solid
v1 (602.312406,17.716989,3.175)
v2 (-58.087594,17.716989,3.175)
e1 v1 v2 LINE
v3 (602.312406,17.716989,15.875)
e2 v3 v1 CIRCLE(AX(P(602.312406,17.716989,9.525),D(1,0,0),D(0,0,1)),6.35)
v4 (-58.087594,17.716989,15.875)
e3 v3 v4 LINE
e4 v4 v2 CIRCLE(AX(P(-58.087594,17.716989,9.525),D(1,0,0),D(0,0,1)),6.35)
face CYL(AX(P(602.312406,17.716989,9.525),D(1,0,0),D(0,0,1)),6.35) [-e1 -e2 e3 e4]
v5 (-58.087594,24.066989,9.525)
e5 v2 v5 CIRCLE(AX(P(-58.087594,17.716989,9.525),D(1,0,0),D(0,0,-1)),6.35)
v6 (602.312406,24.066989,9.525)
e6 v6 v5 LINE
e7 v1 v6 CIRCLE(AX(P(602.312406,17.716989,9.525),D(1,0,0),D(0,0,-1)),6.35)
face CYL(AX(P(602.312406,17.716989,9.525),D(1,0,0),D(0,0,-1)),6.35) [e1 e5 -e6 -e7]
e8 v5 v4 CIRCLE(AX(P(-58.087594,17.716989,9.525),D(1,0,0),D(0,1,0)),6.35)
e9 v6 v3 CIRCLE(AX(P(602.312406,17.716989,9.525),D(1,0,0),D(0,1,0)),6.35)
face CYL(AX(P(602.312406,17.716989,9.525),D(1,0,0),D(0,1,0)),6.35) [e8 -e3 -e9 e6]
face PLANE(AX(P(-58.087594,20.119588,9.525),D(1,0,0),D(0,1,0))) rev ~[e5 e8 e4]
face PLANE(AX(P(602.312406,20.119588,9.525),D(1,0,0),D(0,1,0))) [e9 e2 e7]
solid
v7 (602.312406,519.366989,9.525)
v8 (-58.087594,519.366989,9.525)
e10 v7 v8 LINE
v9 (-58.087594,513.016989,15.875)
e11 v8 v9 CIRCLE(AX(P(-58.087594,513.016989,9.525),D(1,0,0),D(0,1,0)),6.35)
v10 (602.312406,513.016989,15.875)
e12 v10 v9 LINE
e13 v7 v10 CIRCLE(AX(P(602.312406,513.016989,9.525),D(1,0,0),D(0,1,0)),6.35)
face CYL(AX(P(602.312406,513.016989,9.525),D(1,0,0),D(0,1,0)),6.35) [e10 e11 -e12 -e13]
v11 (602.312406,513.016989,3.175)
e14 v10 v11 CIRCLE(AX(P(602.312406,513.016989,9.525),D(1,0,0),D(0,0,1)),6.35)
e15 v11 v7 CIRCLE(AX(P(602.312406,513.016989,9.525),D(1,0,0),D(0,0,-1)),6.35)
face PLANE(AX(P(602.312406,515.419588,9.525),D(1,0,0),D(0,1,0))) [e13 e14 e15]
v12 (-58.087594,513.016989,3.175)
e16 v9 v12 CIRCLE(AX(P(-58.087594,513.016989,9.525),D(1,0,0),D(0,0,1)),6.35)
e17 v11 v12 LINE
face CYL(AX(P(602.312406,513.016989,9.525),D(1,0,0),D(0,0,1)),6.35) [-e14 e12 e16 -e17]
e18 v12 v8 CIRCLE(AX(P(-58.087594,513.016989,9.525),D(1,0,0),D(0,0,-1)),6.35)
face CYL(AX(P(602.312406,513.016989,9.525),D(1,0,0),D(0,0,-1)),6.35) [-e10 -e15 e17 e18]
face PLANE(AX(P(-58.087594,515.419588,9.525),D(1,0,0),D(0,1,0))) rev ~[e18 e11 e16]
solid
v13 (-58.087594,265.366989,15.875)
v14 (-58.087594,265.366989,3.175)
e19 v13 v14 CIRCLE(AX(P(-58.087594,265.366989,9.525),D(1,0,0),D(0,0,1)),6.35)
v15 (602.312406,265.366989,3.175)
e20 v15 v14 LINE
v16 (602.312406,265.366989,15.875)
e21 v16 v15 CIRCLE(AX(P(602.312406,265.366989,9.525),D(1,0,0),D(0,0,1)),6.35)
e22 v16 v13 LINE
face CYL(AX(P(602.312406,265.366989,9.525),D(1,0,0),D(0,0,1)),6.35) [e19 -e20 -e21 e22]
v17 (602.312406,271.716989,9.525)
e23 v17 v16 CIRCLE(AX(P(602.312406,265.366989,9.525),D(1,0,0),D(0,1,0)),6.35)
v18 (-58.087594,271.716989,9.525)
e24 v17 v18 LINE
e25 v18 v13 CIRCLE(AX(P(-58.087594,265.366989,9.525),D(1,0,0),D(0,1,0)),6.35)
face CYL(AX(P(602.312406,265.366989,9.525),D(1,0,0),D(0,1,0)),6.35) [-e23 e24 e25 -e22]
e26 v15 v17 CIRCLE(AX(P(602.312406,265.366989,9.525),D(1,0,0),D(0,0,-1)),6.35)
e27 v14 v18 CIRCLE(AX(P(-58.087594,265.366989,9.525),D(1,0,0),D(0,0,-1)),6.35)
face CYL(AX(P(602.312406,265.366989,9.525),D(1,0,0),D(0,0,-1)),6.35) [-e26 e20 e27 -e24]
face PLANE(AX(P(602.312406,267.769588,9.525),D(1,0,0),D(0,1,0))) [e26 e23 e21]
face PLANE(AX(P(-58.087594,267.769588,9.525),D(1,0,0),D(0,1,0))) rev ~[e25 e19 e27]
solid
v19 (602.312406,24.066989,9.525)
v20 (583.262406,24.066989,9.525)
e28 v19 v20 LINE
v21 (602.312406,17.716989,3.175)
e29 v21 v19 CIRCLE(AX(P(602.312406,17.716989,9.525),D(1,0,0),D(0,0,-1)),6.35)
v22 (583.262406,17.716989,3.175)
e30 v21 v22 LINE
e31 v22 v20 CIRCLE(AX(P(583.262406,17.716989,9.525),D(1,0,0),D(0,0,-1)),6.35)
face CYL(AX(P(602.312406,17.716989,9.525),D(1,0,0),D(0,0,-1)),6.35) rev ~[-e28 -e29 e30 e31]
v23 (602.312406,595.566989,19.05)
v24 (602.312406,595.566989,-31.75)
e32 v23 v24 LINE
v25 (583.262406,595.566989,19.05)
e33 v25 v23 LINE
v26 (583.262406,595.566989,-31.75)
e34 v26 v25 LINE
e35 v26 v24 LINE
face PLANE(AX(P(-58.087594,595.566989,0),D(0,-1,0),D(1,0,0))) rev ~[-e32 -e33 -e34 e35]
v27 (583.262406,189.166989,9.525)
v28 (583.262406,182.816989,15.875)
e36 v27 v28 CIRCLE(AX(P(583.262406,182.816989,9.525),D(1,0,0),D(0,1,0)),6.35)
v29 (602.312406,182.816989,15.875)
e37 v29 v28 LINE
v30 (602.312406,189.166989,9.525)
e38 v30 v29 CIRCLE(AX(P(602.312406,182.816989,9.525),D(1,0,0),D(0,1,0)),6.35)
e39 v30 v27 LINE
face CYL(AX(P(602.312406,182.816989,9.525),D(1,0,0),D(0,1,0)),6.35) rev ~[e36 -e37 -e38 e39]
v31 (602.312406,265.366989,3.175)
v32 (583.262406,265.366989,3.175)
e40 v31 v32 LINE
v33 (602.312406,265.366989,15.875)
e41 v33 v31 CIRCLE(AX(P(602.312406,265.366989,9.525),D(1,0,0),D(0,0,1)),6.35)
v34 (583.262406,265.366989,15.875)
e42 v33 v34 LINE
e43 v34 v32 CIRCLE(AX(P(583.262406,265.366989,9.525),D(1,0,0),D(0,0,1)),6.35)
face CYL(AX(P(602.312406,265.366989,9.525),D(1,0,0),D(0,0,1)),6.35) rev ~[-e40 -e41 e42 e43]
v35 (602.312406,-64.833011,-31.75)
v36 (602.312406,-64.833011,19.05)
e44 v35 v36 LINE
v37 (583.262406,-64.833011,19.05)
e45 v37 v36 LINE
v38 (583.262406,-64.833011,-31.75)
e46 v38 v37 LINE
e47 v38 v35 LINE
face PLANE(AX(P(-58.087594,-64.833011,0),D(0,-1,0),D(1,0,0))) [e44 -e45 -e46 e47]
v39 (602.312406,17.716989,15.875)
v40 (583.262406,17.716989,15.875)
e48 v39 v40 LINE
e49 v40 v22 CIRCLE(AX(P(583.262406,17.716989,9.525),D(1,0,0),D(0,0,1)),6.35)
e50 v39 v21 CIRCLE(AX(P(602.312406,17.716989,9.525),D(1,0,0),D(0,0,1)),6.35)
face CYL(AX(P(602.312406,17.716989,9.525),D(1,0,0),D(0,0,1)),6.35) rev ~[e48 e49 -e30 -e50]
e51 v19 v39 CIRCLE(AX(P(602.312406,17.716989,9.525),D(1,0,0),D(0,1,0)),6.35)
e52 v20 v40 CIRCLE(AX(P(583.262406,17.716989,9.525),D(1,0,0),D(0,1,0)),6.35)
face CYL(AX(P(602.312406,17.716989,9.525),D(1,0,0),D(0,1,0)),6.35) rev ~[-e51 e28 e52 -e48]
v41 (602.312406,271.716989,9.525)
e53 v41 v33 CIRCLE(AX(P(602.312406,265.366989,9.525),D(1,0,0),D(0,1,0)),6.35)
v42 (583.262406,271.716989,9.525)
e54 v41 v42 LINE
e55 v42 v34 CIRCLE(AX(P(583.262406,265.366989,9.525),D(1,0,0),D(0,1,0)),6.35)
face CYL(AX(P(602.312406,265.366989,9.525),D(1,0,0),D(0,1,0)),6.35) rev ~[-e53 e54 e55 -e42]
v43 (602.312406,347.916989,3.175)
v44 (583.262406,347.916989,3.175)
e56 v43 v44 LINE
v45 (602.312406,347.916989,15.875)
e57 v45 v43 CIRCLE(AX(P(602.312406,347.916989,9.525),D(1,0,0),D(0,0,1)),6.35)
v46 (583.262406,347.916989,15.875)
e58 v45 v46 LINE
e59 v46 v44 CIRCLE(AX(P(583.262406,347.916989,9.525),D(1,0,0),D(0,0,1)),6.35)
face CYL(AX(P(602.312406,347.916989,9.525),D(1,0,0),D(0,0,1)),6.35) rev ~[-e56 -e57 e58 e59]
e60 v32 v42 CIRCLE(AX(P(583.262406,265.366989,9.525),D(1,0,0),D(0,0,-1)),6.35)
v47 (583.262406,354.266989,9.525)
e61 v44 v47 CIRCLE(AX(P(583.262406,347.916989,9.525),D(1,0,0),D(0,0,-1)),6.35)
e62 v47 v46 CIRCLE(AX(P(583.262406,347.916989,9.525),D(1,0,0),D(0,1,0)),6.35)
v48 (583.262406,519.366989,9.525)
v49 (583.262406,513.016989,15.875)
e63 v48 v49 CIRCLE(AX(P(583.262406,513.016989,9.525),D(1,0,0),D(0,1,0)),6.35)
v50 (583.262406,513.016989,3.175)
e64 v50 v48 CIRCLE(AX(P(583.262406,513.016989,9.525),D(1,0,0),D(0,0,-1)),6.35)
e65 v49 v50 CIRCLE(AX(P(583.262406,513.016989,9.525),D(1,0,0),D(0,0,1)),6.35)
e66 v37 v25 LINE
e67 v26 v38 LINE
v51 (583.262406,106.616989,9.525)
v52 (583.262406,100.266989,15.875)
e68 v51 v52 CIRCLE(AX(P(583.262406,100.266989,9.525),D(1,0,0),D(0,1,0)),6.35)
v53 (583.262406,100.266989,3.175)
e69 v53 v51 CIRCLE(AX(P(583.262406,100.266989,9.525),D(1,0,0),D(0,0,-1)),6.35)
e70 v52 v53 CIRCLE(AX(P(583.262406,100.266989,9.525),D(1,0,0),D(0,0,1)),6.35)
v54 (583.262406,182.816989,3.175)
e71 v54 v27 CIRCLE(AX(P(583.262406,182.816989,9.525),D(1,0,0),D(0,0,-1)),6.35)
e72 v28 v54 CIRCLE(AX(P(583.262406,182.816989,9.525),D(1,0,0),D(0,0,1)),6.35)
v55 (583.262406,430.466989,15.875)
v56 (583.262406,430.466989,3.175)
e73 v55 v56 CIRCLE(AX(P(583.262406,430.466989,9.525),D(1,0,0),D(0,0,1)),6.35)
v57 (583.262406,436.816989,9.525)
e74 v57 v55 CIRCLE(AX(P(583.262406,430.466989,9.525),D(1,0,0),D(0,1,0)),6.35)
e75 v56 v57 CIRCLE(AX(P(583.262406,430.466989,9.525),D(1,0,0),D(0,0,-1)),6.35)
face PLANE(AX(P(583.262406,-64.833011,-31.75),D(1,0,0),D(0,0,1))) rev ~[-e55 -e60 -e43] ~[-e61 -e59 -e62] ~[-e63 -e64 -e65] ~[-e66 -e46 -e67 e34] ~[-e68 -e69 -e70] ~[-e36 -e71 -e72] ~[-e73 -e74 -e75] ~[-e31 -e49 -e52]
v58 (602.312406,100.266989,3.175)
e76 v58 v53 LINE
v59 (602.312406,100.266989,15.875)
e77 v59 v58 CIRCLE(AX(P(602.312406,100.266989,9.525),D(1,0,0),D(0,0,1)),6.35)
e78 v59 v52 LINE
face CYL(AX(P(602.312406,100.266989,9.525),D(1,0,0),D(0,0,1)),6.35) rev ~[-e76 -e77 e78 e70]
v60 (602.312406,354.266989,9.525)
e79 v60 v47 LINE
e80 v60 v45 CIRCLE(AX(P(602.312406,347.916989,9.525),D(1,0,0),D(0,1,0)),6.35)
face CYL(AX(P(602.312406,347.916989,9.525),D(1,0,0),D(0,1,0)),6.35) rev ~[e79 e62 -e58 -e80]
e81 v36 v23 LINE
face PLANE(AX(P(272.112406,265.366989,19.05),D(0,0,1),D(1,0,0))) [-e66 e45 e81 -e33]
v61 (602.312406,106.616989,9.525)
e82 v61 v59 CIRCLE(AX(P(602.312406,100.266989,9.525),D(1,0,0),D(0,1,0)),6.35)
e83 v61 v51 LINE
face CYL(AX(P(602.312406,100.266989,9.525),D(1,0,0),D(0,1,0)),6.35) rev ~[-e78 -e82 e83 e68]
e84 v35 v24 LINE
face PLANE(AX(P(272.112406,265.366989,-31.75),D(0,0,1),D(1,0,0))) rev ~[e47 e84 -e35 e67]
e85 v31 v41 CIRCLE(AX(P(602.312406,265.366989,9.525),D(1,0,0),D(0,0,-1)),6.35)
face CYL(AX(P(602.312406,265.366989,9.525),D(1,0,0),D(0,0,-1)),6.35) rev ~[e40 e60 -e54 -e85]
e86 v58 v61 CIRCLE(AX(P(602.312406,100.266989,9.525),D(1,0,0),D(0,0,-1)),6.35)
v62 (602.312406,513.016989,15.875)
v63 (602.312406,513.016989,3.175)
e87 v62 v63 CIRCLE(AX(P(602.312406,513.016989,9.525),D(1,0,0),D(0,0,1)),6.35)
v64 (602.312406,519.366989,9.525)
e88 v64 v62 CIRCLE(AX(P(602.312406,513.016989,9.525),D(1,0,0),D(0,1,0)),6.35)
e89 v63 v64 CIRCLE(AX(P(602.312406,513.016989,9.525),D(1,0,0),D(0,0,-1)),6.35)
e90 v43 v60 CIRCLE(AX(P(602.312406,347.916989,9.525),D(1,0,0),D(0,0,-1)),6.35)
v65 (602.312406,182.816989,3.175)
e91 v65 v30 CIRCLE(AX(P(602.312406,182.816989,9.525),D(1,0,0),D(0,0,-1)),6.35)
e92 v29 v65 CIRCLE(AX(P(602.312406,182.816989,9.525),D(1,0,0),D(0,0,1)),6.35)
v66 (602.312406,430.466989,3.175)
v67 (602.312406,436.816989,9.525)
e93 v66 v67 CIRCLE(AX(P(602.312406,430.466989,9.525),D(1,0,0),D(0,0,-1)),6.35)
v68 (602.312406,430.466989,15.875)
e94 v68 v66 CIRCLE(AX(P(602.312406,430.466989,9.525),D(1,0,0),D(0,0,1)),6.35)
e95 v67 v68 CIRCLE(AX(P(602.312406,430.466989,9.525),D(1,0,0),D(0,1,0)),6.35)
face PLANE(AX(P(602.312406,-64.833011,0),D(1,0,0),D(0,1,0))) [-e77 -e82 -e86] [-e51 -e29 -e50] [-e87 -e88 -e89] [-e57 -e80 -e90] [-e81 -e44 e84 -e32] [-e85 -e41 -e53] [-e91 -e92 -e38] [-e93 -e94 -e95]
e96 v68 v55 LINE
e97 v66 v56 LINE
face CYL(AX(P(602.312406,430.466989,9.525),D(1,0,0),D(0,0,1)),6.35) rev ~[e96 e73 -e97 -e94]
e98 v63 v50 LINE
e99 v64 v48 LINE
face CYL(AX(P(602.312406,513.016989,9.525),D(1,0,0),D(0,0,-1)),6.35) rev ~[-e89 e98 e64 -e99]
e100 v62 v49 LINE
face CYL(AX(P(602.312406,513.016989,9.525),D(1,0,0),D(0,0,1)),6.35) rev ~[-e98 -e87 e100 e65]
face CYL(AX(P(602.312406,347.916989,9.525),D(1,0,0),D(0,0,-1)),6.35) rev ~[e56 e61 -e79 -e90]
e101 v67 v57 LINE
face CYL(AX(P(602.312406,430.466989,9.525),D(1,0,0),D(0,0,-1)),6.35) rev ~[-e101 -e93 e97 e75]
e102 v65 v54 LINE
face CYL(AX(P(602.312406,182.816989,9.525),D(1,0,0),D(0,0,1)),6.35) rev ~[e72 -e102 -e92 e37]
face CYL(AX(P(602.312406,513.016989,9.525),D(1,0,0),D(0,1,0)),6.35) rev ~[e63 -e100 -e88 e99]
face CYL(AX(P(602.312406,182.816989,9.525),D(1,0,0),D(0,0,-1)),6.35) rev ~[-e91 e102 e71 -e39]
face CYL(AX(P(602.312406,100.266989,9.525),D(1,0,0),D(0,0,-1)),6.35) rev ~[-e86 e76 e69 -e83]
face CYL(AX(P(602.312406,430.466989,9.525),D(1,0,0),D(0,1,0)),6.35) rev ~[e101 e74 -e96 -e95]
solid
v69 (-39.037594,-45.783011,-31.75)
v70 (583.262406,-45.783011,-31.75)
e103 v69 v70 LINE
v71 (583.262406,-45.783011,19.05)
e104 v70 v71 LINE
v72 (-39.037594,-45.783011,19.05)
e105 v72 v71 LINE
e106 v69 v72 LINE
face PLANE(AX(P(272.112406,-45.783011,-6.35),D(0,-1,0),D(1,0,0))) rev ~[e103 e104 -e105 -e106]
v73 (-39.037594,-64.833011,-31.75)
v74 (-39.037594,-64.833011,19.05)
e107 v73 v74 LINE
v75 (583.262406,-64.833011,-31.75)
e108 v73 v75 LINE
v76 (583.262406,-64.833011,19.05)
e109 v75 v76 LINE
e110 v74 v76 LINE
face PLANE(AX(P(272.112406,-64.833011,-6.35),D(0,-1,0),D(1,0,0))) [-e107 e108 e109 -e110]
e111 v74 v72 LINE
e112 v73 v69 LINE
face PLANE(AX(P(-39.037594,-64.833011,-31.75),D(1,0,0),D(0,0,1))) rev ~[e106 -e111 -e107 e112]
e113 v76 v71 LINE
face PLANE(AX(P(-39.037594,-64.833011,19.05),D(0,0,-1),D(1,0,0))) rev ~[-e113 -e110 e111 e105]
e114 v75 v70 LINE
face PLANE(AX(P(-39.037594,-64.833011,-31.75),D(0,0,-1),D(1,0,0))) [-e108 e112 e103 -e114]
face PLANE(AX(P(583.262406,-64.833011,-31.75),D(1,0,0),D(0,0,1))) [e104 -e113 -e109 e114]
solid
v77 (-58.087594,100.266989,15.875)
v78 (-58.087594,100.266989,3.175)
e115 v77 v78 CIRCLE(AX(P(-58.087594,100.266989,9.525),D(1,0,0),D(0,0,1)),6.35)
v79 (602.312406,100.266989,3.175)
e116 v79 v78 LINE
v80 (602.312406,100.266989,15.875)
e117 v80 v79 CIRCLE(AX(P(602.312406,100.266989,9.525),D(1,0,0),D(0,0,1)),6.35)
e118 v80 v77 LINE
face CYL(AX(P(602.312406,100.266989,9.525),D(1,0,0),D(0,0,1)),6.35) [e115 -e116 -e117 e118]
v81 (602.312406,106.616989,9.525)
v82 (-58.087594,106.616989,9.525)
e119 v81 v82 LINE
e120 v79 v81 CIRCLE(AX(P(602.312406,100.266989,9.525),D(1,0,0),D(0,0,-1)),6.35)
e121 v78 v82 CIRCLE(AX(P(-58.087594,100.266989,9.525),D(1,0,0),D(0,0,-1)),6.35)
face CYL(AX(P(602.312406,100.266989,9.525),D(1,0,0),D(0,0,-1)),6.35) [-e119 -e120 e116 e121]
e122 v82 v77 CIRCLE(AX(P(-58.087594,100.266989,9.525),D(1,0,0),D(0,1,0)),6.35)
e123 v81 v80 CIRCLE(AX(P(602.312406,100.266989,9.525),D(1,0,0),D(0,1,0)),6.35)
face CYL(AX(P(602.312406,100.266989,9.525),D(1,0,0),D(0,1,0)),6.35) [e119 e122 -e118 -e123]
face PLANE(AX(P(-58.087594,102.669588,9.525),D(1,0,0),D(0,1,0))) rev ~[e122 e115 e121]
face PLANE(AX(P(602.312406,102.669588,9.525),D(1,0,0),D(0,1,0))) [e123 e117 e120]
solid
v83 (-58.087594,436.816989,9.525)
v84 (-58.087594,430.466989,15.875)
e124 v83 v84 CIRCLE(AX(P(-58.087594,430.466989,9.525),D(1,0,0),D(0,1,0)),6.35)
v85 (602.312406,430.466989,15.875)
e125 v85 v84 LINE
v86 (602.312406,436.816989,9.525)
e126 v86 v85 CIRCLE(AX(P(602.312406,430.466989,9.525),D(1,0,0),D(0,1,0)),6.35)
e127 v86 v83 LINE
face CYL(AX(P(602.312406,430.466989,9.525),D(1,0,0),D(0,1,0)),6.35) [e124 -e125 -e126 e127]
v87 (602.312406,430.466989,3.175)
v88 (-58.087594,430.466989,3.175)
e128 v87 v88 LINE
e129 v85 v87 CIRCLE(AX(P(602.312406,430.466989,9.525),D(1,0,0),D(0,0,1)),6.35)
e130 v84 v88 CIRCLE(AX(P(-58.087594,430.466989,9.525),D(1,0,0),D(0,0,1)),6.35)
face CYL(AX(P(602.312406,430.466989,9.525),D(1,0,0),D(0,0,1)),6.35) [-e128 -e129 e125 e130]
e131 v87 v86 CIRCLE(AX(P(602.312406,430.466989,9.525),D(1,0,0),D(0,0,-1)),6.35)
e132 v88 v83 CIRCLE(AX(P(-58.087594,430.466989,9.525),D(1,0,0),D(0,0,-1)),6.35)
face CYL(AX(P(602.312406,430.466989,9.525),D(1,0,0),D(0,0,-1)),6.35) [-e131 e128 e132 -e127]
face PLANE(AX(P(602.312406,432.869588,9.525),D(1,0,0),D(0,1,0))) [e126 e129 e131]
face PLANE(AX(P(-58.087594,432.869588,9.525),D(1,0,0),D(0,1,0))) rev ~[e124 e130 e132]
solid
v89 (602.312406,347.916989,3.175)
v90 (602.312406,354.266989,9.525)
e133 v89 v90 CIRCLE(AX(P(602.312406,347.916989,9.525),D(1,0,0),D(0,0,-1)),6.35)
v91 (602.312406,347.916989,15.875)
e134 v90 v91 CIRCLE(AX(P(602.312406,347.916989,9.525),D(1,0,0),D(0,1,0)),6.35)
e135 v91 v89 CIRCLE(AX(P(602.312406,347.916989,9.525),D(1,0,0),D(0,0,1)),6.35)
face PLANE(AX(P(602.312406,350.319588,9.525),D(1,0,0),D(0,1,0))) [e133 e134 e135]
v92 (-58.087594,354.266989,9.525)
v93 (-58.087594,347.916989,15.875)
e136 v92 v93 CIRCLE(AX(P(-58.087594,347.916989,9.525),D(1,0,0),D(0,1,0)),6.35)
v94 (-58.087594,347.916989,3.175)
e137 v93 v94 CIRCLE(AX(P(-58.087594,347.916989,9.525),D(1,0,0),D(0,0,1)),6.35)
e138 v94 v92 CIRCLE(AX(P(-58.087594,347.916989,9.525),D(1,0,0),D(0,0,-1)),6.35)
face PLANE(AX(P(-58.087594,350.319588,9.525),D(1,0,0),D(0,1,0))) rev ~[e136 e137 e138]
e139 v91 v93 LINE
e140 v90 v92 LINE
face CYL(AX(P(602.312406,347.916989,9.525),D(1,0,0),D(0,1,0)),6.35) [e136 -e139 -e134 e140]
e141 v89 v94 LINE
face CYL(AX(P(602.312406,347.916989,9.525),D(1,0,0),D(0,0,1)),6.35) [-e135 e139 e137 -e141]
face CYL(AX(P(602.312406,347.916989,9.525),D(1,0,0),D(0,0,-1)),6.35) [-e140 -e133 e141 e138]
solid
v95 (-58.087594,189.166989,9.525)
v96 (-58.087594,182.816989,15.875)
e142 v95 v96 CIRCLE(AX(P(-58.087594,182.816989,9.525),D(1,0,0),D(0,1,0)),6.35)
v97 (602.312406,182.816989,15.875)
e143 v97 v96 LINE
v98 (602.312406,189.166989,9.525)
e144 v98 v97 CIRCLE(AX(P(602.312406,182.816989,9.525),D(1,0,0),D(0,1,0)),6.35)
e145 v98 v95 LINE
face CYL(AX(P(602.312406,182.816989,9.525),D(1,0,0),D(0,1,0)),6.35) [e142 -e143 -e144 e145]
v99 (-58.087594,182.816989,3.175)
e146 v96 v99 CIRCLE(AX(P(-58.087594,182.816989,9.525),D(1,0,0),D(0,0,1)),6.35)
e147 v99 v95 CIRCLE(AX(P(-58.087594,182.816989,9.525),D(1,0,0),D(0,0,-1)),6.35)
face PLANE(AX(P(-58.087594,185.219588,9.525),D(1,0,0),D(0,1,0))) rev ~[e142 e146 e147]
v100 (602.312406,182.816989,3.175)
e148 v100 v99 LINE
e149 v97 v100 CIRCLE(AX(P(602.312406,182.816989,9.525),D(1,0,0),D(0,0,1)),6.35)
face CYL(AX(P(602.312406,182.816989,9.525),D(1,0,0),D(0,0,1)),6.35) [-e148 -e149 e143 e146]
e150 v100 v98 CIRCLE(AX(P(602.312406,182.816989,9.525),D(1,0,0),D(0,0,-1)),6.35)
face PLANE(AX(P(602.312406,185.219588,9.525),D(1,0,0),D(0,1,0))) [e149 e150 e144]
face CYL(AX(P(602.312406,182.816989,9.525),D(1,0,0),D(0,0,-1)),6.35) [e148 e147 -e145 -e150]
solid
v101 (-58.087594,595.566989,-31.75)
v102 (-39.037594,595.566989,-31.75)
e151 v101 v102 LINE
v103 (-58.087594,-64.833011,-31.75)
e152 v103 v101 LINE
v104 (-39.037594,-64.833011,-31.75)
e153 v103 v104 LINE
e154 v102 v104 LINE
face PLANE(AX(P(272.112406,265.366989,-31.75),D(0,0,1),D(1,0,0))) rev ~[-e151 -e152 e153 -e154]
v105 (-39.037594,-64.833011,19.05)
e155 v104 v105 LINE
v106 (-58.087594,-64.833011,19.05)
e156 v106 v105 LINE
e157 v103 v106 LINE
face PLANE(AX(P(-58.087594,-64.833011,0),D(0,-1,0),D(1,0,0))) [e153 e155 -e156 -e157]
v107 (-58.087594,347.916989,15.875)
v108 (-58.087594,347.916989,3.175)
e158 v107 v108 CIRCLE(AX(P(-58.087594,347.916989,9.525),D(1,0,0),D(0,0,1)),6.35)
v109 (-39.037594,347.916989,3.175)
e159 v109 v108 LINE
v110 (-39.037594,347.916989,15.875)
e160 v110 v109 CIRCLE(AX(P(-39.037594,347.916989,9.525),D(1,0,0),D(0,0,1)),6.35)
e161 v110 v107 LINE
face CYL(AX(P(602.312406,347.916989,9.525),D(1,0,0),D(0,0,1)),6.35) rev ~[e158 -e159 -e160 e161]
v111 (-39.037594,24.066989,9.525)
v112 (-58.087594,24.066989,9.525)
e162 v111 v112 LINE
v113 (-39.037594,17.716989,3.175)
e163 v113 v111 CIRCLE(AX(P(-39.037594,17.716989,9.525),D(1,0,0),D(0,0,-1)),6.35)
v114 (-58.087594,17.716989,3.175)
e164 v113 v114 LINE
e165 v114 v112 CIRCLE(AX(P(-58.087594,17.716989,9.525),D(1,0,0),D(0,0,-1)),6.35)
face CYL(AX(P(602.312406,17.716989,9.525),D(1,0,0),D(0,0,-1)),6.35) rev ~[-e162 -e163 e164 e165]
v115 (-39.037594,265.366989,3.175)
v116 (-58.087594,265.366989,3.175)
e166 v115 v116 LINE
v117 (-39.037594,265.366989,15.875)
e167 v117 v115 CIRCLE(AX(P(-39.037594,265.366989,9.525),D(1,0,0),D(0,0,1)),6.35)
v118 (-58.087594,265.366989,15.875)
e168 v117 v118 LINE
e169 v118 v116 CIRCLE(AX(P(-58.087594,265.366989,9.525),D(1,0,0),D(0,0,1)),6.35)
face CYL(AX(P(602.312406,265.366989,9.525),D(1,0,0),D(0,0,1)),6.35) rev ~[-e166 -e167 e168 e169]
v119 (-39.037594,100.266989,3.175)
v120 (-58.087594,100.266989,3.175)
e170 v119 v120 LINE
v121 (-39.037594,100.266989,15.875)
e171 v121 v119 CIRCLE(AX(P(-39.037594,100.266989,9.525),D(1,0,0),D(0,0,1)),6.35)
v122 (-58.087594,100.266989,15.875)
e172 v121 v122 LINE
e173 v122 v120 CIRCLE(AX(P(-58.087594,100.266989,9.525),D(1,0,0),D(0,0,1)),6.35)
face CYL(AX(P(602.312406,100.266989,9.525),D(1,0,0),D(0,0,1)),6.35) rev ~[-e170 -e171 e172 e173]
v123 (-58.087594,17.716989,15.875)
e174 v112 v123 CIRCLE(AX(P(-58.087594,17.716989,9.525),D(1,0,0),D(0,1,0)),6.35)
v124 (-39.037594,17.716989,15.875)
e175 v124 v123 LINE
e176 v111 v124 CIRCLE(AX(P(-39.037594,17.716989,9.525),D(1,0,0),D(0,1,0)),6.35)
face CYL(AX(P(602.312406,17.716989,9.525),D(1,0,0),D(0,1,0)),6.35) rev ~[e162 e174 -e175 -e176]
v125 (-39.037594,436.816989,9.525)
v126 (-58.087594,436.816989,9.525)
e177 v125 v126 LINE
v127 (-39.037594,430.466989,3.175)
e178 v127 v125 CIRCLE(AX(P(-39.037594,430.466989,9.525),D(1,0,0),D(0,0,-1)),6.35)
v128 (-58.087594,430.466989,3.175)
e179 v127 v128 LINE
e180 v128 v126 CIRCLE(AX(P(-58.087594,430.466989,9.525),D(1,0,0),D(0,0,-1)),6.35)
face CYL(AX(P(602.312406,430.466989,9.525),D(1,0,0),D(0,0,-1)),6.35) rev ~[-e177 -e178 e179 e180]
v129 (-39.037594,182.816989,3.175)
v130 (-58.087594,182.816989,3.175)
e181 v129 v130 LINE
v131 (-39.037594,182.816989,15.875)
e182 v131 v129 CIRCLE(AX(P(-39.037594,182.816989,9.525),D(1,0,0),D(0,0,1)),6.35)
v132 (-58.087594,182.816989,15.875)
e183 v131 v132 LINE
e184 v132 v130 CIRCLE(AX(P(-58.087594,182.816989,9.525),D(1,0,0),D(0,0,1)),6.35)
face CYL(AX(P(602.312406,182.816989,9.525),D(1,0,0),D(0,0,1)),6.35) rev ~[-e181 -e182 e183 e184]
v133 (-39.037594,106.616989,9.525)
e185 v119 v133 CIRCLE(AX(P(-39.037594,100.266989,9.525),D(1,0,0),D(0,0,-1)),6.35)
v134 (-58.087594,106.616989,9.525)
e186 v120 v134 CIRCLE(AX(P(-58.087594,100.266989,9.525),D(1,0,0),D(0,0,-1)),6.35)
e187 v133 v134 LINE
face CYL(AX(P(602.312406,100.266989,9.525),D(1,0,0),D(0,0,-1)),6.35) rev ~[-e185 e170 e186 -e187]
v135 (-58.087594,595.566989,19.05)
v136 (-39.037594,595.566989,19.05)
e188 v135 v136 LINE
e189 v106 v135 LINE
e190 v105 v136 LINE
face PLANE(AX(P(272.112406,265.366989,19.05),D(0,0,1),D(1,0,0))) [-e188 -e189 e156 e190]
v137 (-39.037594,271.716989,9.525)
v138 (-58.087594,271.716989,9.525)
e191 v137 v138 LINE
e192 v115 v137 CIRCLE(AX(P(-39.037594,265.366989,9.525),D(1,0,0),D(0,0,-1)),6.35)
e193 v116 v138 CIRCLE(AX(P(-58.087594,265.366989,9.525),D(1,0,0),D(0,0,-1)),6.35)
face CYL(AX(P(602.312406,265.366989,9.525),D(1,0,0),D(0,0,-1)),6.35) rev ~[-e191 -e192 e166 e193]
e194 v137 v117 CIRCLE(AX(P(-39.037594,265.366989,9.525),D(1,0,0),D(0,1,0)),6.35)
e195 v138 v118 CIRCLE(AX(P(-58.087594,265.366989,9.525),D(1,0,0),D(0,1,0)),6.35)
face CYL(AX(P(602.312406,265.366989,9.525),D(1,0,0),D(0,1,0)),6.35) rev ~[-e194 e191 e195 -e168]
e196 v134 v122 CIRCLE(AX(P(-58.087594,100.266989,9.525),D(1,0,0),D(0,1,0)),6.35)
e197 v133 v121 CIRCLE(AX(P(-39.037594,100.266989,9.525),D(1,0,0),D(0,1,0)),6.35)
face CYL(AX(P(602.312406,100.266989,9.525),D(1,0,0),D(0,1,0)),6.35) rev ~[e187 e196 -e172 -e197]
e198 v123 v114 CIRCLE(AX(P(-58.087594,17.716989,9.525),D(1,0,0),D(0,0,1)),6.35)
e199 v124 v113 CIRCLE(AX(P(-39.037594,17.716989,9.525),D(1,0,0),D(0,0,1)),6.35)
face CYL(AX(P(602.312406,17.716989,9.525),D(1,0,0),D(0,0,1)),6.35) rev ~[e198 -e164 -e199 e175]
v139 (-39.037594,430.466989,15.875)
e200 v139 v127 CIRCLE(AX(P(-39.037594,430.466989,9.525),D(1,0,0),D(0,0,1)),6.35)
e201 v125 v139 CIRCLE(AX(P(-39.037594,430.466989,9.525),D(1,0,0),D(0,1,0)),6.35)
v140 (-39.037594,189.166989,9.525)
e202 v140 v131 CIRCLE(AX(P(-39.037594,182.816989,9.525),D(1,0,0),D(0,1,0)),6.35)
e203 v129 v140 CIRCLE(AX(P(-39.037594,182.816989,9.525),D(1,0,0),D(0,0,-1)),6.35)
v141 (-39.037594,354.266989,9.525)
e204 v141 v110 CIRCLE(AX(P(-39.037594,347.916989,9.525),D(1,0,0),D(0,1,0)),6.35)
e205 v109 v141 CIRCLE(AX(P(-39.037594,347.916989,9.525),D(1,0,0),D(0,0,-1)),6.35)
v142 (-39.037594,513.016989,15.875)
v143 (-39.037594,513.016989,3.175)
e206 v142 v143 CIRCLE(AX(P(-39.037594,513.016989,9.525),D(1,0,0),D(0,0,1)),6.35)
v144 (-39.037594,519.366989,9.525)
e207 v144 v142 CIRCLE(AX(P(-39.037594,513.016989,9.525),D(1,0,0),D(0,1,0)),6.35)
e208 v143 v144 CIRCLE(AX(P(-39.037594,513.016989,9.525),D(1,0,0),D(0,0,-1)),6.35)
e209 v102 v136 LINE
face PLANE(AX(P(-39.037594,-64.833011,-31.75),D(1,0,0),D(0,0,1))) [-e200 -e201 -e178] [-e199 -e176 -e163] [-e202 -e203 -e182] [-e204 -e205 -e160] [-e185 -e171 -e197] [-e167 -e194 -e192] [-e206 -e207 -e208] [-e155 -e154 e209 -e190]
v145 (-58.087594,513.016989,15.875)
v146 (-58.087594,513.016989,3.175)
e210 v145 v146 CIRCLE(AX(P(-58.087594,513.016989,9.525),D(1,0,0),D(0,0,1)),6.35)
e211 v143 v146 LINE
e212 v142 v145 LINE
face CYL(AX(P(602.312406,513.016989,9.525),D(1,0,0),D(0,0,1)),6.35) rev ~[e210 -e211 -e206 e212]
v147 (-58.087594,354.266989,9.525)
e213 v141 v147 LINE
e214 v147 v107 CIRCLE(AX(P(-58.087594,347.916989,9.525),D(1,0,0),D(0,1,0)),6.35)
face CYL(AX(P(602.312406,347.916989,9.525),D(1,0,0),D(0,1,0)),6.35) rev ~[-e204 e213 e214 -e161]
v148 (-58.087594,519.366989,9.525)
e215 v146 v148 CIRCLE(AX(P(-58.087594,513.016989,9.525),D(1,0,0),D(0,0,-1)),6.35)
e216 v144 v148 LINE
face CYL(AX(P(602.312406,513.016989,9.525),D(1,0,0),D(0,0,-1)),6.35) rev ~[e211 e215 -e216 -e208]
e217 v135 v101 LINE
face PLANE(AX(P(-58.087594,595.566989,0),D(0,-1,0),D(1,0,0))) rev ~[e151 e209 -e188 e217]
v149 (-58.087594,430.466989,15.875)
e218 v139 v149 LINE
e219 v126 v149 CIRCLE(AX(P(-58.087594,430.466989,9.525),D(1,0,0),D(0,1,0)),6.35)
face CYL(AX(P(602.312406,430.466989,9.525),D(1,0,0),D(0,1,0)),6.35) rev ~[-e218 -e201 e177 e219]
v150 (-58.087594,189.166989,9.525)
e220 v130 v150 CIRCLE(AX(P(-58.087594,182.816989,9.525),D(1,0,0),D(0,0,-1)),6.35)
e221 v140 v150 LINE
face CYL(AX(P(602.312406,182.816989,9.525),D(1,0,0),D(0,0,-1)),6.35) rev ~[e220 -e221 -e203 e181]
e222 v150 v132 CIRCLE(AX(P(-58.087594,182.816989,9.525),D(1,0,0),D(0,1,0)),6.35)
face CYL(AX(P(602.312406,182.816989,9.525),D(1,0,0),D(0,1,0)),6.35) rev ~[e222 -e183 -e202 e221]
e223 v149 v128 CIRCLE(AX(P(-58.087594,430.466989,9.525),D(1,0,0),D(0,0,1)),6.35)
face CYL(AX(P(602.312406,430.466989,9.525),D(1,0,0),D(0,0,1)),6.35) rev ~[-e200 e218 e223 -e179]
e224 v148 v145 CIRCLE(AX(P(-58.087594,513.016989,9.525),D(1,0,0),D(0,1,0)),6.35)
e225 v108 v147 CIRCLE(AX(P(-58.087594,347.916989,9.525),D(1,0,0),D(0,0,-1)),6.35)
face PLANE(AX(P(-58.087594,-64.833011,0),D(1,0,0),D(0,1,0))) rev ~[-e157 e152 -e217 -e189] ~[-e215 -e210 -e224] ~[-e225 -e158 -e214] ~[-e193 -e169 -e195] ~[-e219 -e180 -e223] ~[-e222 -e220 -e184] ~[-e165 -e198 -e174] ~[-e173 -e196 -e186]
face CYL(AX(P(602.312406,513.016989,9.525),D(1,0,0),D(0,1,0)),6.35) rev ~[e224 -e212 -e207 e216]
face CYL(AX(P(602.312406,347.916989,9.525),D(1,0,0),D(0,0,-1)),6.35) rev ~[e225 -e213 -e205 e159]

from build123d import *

# Parameters (mm, degrees)
F0_W      = 660.4
F0_H      = 660.4
F1_DEPTH  = 19.05
F3_DEPTH  = 660.401
F4_W      = 622.3
F4_H      = 622.3
F5_DEPTH  = 19.051
F6_DEPTH  = 660.4
F7_DEPTH  = 31.75
F8_W      = 622.3
F8_H      = 50.8
F9_DEPTH  = 660.401
F10_DEPTH = 19.05


with BuildPart() as f1:
    # F0 (on Top) → F1 (new body)
    with BuildSketch(Plane.XY):
        with Locations((272.1124062419, 265.3669889885)):
            Rectangle(F0_W, F0_H)
    extrude(amount=F1_DEPTH)

    # F2 (on face) → F3 (cut, through all)
    with BuildSketch(Plane.YZ.offset(602.3124062419)):
        with BuildLine():
            Line((265.3669889885, 3.175), (265.3669889885, 15.875))
            ThreePointArc((265.3669889885, 15.875), (259.0169889885, 9.525), (265.3669889885, 3.175))
        make_face()
        with BuildLine():
            Line((100.2669889885, 3.175), (100.2669889885, 15.875))
            ThreePointArc((100.2669889885, 15.875), (93.9169889885, 9.525), (100.2669889885, 3.175))
        make_face()
        with BuildLine():
            ThreePointArc((436.8169889885, 9.525), (434.957117049, 14.0151280605), (430.4669889885, 15.875))
            Line((430.4669889885, 15.875), (430.4669889885, 3.175))
            ThreePointArc((430.4669889885, 3.175), (434.957117049, 5.0348719395), (436.8169889885, 9.525))
        make_face()
        with BuildLine():
            Line((182.8169889885, 3.175), (182.8169889885, 15.875))
            ThreePointArc((182.8169889885, 15.875), (176.4669889885, 9.525), (182.8169889885, 3.175))
        make_face()
        with BuildLine():
            Line((347.9169889885, 3.175), (347.9169889885, 15.875))
            ThreePointArc((347.9169889885, 15.875), (341.5669889885, 9.525), (347.9169889885, 3.175))
        make_face()
        with BuildLine():
            Line((17.7169889885, 3.175), (17.7169889885, 15.875))
            ThreePointArc((17.7169889885, 15.875), (11.3669889885, 9.525), (17.7169889885, 3.175))
        make_face()
        with BuildLine():
            ThreePointArc((24.0669889885, 9.525), (22.207117049, 14.0151280605), (17.7169889885, 15.875))
            Line((17.7169889885, 15.875), (17.7169889885, 3.175))
            ThreePointArc((17.7169889885, 3.175), (22.207117049, 5.0348719395), (24.0669889885, 9.525))
        make_face()
        with BuildLine():
            Line((513.0169889885, 3.175), (513.0169889885, 15.875))
            ThreePointArc((513.0169889885, 15.875), (506.6669889885, 9.525), (513.0169889885, 3.175))
        make_face()
        with BuildLine():
            ThreePointArc((519.3669889885, 9.525), (517.507117049, 14.0151280605), (513.0169889885, 15.875))
            Line((513.0169889885, 15.875), (513.0169889885, 3.175))
            ThreePointArc((513.0169889885, 3.175), (517.507117049, 5.0348719395), (519.3669889885, 9.525))
        make_face()
        with BuildLine():
            Line((430.4669889885, 3.175), (430.4669889885, 15.875))
            ThreePointArc((430.4669889885, 15.875), (424.1169889885, 9.525), (430.4669889885, 3.175))
        make_face()
        with BuildLine():
            ThreePointArc((354.2669889885, 9.525), (352.407117049, 14.0151280605), (347.9169889885, 15.875))
            Line((347.9169889885, 15.875), (347.9169889885, 3.175))
            ThreePointArc((347.9169889885, 3.175), (352.407117049, 5.0348719395), (354.2669889885, 9.525))
        make_face()
        with BuildLine():
            ThreePointArc((271.7169889885, 9.525), (269.857117049, 14.0151280605), (265.3669889885, 15.875))
            Line((265.3669889885, 15.875), (265.3669889885, 3.175))
            ThreePointArc((265.3669889885, 3.175), (269.857117049, 5.0348719395), (271.7169889885, 9.525))
        make_face()
        with BuildLine():
            ThreePointArc((106.6169889885, 9.525), (104.757117049, 14.0151280605), (100.2669889885, 15.875))
            Line((100.2669889885, 15.875), (100.2669889885, 3.175))
            ThreePointArc((100.2669889885, 3.175), (104.757117049, 5.0348719395), (106.6169889885, 9.525))
        make_face()
        with BuildLine():
            ThreePointArc((189.1669889885, 9.525), (187.307117049, 14.0151280605), (182.8169889885, 15.875))
            Line((182.8169889885, 15.875), (182.8169889885, 3.175))
            ThreePointArc((182.8169889885, 3.175), (187.307117049, 5.0348719395), (189.1669889885, 9.525))
        make_face()
    extrude(amount=-F3_DEPTH, mode=Mode.SUBTRACT)

    # F4 (on face) → F5 (cut, through all)
    with BuildSketch(Plane.XY.offset(19.05)):
        with Locations((272.1124062419, 265.3669889885)):
            Rectangle(F4_W, F4_H)
    extrude(amount=-F5_DEPTH, mode=Mode.SUBTRACT)

    # F7 (add): a face of the model
    f7_faces = [f1.faces().sort_by_distance(p)[0] for p in [
        (-48.7481273922, 265.3669889885, 0),
    ]]
    extrude(f7_faces, amount=F7_DEPTH)

    # F8 (on face) → F9 (cut, through all)
    with BuildSketch(Plane.XZ.offset(64.8330110115)):
        with Locations((272.1124062419, -6.35)):
            Rectangle(F8_W, F8_H)
    extrude(amount=-F9_DEPTH, mode=Mode.SUBTRACT)


with BuildPart() as f6:
    # F2 (on face) → F6 (new body)
    with BuildSketch(Plane.YZ.offset(602.3124062419)):
        with BuildLine():
            ThreePointArc((271.7169889885, 9.525), (269.857117049, 14.0151280605), (265.3669889885, 15.875))
            Line((265.3669889885, 15.875), (265.3669889885, 3.175))
            ThreePointArc((265.3669889885, 3.175), (269.857117049, 5.0348719395), (271.7169889885, 9.525))
        make_face()
        with BuildLine():
            Line((265.3669889885, 3.175), (265.3669889885, 15.875))
            ThreePointArc((265.3669889885, 15.875), (259.0169889885, 9.525), (265.3669889885, 3.175))
        make_face()
    extrude(amount=-F6_DEPTH)


with BuildPart() as f6b:
    # F2 (on face) → F6, piece 2 (new body)
    with BuildSketch(Plane.YZ.offset(602.3124062419)):
        with BuildLine():
            ThreePointArc((106.6169889885, 9.525), (104.757117049, 14.0151280605), (100.2669889885, 15.875))
            Line((100.2669889885, 15.875), (100.2669889885, 3.175))
            ThreePointArc((100.2669889885, 3.175), (104.757117049, 5.0348719395), (106.6169889885, 9.525))
        make_face()
        with BuildLine():
            Line((100.2669889885, 3.175), (100.2669889885, 15.875))
            ThreePointArc((100.2669889885, 15.875), (93.9169889885, 9.525), (100.2669889885, 3.175))
        make_face()
    extrude(amount=-F6_DEPTH)


with BuildPart() as f6c:
    # F2 (on face) → F6, piece 3 (new body)
    with BuildSketch(Plane.YZ.offset(602.3124062419)):
        with BuildLine():
            ThreePointArc((436.8169889885, 9.525), (434.957117049, 14.0151280605), (430.4669889885, 15.875))
            Line((430.4669889885, 15.875), (430.4669889885, 3.175))
            ThreePointArc((430.4669889885, 3.175), (434.957117049, 5.0348719395), (436.8169889885, 9.525))
        make_face()
        with BuildLine():
            Line((430.4669889885, 3.175), (430.4669889885, 15.875))
            ThreePointArc((430.4669889885, 15.875), (424.1169889885, 9.525), (430.4669889885, 3.175))
        make_face()
    extrude(amount=-F6_DEPTH)


with BuildPart() as f6d:
    # F2 (on face) → F6, piece 4 (new body)
    with BuildSketch(Plane.YZ.offset(602.3124062419)):
        with BuildLine():
            ThreePointArc((189.1669889885, 9.525), (187.307117049, 14.0151280605), (182.8169889885, 15.875))
            Line((182.8169889885, 15.875), (182.8169889885, 3.175))
            ThreePointArc((182.8169889885, 3.175), (187.307117049, 5.0348719395), (189.1669889885, 9.525))
        make_face()
        with BuildLine():
            Line((182.8169889885, 3.175), (182.8169889885, 15.875))
            ThreePointArc((182.8169889885, 15.875), (176.4669889885, 9.525), (182.8169889885, 3.175))
        make_face()
    extrude(amount=-F6_DEPTH)


with BuildPart() as f6e:
    # F2 (on face) → F6, piece 5 (new body)
    with BuildSketch(Plane.YZ.offset(602.3124062419)):
        with BuildLine():
            ThreePointArc((354.2669889885, 9.525), (352.407117049, 14.0151280605), (347.9169889885, 15.875))
            Line((347.9169889885, 15.875), (347.9169889885, 3.175))
            ThreePointArc((347.9169889885, 3.175), (352.407117049, 5.0348719395), (354.2669889885, 9.525))
        make_face()
        with BuildLine():
            Line((347.9169889885, 3.175), (347.9169889885, 15.875))
            ThreePointArc((347.9169889885, 15.875), (341.5669889885, 9.525), (347.9169889885, 3.175))
        make_face()
    extrude(amount=-F6_DEPTH)


with BuildPart() as f6f:
    # F2 (on face) → F6, piece 6 (new body)
    with BuildSketch(Plane.YZ.offset(602.3124062419)):
        with BuildLine():
            ThreePointArc((24.0669889885, 9.525), (22.207117049, 14.0151280605), (17.7169889885, 15.875))
            Line((17.7169889885, 15.875), (17.7169889885, 3.175))
            ThreePointArc((17.7169889885, 3.175), (22.207117049, 5.0348719395), (24.0669889885, 9.525))
        make_face()
        with BuildLine():
            Line((17.7169889885, 3.175), (17.7169889885, 15.875))
            ThreePointArc((17.7169889885, 15.875), (11.3669889885, 9.525), (17.7169889885, 3.175))
        make_face()
    extrude(amount=-F6_DEPTH)


with BuildPart() as f6g:
    # F2 (on face) → F6, piece 7 (new body)
    with BuildSketch(Plane.YZ.offset(602.3124062419)):
        with BuildLine():
            ThreePointArc((519.3669889885, 9.525), (517.507117049, 14.0151280605), (513.0169889885, 15.875))
            Line((513.0169889885, 15.875), (513.0169889885, 3.175))
            ThreePointArc((513.0169889885, 3.175), (517.507117049, 5.0348719395), (519.3669889885, 9.525))
        make_face()
        with BuildLine():
            Line((513.0169889885, 3.175), (513.0169889885, 15.875))
            ThreePointArc((513.0169889885, 15.875), (506.6669889885, 9.525), (513.0169889885, 3.175))
        make_face()
    extrude(amount=-F6_DEPTH)


with BuildPart() as f10:
    # F8 (on face) → F10 (new body)
    with BuildSketch(Plane.XZ.offset(64.8330110115)):
        with Locations((272.1124062419, -6.35)):
            Rectangle(F8_W, F8_H)
    extrude(amount=-F10_DEPTH)


solid = Compound([f1.part, f6.part, f6b.part, f6c.part, f6d.part, f6e.part, f6f.part, f6g.part, f10.part])
